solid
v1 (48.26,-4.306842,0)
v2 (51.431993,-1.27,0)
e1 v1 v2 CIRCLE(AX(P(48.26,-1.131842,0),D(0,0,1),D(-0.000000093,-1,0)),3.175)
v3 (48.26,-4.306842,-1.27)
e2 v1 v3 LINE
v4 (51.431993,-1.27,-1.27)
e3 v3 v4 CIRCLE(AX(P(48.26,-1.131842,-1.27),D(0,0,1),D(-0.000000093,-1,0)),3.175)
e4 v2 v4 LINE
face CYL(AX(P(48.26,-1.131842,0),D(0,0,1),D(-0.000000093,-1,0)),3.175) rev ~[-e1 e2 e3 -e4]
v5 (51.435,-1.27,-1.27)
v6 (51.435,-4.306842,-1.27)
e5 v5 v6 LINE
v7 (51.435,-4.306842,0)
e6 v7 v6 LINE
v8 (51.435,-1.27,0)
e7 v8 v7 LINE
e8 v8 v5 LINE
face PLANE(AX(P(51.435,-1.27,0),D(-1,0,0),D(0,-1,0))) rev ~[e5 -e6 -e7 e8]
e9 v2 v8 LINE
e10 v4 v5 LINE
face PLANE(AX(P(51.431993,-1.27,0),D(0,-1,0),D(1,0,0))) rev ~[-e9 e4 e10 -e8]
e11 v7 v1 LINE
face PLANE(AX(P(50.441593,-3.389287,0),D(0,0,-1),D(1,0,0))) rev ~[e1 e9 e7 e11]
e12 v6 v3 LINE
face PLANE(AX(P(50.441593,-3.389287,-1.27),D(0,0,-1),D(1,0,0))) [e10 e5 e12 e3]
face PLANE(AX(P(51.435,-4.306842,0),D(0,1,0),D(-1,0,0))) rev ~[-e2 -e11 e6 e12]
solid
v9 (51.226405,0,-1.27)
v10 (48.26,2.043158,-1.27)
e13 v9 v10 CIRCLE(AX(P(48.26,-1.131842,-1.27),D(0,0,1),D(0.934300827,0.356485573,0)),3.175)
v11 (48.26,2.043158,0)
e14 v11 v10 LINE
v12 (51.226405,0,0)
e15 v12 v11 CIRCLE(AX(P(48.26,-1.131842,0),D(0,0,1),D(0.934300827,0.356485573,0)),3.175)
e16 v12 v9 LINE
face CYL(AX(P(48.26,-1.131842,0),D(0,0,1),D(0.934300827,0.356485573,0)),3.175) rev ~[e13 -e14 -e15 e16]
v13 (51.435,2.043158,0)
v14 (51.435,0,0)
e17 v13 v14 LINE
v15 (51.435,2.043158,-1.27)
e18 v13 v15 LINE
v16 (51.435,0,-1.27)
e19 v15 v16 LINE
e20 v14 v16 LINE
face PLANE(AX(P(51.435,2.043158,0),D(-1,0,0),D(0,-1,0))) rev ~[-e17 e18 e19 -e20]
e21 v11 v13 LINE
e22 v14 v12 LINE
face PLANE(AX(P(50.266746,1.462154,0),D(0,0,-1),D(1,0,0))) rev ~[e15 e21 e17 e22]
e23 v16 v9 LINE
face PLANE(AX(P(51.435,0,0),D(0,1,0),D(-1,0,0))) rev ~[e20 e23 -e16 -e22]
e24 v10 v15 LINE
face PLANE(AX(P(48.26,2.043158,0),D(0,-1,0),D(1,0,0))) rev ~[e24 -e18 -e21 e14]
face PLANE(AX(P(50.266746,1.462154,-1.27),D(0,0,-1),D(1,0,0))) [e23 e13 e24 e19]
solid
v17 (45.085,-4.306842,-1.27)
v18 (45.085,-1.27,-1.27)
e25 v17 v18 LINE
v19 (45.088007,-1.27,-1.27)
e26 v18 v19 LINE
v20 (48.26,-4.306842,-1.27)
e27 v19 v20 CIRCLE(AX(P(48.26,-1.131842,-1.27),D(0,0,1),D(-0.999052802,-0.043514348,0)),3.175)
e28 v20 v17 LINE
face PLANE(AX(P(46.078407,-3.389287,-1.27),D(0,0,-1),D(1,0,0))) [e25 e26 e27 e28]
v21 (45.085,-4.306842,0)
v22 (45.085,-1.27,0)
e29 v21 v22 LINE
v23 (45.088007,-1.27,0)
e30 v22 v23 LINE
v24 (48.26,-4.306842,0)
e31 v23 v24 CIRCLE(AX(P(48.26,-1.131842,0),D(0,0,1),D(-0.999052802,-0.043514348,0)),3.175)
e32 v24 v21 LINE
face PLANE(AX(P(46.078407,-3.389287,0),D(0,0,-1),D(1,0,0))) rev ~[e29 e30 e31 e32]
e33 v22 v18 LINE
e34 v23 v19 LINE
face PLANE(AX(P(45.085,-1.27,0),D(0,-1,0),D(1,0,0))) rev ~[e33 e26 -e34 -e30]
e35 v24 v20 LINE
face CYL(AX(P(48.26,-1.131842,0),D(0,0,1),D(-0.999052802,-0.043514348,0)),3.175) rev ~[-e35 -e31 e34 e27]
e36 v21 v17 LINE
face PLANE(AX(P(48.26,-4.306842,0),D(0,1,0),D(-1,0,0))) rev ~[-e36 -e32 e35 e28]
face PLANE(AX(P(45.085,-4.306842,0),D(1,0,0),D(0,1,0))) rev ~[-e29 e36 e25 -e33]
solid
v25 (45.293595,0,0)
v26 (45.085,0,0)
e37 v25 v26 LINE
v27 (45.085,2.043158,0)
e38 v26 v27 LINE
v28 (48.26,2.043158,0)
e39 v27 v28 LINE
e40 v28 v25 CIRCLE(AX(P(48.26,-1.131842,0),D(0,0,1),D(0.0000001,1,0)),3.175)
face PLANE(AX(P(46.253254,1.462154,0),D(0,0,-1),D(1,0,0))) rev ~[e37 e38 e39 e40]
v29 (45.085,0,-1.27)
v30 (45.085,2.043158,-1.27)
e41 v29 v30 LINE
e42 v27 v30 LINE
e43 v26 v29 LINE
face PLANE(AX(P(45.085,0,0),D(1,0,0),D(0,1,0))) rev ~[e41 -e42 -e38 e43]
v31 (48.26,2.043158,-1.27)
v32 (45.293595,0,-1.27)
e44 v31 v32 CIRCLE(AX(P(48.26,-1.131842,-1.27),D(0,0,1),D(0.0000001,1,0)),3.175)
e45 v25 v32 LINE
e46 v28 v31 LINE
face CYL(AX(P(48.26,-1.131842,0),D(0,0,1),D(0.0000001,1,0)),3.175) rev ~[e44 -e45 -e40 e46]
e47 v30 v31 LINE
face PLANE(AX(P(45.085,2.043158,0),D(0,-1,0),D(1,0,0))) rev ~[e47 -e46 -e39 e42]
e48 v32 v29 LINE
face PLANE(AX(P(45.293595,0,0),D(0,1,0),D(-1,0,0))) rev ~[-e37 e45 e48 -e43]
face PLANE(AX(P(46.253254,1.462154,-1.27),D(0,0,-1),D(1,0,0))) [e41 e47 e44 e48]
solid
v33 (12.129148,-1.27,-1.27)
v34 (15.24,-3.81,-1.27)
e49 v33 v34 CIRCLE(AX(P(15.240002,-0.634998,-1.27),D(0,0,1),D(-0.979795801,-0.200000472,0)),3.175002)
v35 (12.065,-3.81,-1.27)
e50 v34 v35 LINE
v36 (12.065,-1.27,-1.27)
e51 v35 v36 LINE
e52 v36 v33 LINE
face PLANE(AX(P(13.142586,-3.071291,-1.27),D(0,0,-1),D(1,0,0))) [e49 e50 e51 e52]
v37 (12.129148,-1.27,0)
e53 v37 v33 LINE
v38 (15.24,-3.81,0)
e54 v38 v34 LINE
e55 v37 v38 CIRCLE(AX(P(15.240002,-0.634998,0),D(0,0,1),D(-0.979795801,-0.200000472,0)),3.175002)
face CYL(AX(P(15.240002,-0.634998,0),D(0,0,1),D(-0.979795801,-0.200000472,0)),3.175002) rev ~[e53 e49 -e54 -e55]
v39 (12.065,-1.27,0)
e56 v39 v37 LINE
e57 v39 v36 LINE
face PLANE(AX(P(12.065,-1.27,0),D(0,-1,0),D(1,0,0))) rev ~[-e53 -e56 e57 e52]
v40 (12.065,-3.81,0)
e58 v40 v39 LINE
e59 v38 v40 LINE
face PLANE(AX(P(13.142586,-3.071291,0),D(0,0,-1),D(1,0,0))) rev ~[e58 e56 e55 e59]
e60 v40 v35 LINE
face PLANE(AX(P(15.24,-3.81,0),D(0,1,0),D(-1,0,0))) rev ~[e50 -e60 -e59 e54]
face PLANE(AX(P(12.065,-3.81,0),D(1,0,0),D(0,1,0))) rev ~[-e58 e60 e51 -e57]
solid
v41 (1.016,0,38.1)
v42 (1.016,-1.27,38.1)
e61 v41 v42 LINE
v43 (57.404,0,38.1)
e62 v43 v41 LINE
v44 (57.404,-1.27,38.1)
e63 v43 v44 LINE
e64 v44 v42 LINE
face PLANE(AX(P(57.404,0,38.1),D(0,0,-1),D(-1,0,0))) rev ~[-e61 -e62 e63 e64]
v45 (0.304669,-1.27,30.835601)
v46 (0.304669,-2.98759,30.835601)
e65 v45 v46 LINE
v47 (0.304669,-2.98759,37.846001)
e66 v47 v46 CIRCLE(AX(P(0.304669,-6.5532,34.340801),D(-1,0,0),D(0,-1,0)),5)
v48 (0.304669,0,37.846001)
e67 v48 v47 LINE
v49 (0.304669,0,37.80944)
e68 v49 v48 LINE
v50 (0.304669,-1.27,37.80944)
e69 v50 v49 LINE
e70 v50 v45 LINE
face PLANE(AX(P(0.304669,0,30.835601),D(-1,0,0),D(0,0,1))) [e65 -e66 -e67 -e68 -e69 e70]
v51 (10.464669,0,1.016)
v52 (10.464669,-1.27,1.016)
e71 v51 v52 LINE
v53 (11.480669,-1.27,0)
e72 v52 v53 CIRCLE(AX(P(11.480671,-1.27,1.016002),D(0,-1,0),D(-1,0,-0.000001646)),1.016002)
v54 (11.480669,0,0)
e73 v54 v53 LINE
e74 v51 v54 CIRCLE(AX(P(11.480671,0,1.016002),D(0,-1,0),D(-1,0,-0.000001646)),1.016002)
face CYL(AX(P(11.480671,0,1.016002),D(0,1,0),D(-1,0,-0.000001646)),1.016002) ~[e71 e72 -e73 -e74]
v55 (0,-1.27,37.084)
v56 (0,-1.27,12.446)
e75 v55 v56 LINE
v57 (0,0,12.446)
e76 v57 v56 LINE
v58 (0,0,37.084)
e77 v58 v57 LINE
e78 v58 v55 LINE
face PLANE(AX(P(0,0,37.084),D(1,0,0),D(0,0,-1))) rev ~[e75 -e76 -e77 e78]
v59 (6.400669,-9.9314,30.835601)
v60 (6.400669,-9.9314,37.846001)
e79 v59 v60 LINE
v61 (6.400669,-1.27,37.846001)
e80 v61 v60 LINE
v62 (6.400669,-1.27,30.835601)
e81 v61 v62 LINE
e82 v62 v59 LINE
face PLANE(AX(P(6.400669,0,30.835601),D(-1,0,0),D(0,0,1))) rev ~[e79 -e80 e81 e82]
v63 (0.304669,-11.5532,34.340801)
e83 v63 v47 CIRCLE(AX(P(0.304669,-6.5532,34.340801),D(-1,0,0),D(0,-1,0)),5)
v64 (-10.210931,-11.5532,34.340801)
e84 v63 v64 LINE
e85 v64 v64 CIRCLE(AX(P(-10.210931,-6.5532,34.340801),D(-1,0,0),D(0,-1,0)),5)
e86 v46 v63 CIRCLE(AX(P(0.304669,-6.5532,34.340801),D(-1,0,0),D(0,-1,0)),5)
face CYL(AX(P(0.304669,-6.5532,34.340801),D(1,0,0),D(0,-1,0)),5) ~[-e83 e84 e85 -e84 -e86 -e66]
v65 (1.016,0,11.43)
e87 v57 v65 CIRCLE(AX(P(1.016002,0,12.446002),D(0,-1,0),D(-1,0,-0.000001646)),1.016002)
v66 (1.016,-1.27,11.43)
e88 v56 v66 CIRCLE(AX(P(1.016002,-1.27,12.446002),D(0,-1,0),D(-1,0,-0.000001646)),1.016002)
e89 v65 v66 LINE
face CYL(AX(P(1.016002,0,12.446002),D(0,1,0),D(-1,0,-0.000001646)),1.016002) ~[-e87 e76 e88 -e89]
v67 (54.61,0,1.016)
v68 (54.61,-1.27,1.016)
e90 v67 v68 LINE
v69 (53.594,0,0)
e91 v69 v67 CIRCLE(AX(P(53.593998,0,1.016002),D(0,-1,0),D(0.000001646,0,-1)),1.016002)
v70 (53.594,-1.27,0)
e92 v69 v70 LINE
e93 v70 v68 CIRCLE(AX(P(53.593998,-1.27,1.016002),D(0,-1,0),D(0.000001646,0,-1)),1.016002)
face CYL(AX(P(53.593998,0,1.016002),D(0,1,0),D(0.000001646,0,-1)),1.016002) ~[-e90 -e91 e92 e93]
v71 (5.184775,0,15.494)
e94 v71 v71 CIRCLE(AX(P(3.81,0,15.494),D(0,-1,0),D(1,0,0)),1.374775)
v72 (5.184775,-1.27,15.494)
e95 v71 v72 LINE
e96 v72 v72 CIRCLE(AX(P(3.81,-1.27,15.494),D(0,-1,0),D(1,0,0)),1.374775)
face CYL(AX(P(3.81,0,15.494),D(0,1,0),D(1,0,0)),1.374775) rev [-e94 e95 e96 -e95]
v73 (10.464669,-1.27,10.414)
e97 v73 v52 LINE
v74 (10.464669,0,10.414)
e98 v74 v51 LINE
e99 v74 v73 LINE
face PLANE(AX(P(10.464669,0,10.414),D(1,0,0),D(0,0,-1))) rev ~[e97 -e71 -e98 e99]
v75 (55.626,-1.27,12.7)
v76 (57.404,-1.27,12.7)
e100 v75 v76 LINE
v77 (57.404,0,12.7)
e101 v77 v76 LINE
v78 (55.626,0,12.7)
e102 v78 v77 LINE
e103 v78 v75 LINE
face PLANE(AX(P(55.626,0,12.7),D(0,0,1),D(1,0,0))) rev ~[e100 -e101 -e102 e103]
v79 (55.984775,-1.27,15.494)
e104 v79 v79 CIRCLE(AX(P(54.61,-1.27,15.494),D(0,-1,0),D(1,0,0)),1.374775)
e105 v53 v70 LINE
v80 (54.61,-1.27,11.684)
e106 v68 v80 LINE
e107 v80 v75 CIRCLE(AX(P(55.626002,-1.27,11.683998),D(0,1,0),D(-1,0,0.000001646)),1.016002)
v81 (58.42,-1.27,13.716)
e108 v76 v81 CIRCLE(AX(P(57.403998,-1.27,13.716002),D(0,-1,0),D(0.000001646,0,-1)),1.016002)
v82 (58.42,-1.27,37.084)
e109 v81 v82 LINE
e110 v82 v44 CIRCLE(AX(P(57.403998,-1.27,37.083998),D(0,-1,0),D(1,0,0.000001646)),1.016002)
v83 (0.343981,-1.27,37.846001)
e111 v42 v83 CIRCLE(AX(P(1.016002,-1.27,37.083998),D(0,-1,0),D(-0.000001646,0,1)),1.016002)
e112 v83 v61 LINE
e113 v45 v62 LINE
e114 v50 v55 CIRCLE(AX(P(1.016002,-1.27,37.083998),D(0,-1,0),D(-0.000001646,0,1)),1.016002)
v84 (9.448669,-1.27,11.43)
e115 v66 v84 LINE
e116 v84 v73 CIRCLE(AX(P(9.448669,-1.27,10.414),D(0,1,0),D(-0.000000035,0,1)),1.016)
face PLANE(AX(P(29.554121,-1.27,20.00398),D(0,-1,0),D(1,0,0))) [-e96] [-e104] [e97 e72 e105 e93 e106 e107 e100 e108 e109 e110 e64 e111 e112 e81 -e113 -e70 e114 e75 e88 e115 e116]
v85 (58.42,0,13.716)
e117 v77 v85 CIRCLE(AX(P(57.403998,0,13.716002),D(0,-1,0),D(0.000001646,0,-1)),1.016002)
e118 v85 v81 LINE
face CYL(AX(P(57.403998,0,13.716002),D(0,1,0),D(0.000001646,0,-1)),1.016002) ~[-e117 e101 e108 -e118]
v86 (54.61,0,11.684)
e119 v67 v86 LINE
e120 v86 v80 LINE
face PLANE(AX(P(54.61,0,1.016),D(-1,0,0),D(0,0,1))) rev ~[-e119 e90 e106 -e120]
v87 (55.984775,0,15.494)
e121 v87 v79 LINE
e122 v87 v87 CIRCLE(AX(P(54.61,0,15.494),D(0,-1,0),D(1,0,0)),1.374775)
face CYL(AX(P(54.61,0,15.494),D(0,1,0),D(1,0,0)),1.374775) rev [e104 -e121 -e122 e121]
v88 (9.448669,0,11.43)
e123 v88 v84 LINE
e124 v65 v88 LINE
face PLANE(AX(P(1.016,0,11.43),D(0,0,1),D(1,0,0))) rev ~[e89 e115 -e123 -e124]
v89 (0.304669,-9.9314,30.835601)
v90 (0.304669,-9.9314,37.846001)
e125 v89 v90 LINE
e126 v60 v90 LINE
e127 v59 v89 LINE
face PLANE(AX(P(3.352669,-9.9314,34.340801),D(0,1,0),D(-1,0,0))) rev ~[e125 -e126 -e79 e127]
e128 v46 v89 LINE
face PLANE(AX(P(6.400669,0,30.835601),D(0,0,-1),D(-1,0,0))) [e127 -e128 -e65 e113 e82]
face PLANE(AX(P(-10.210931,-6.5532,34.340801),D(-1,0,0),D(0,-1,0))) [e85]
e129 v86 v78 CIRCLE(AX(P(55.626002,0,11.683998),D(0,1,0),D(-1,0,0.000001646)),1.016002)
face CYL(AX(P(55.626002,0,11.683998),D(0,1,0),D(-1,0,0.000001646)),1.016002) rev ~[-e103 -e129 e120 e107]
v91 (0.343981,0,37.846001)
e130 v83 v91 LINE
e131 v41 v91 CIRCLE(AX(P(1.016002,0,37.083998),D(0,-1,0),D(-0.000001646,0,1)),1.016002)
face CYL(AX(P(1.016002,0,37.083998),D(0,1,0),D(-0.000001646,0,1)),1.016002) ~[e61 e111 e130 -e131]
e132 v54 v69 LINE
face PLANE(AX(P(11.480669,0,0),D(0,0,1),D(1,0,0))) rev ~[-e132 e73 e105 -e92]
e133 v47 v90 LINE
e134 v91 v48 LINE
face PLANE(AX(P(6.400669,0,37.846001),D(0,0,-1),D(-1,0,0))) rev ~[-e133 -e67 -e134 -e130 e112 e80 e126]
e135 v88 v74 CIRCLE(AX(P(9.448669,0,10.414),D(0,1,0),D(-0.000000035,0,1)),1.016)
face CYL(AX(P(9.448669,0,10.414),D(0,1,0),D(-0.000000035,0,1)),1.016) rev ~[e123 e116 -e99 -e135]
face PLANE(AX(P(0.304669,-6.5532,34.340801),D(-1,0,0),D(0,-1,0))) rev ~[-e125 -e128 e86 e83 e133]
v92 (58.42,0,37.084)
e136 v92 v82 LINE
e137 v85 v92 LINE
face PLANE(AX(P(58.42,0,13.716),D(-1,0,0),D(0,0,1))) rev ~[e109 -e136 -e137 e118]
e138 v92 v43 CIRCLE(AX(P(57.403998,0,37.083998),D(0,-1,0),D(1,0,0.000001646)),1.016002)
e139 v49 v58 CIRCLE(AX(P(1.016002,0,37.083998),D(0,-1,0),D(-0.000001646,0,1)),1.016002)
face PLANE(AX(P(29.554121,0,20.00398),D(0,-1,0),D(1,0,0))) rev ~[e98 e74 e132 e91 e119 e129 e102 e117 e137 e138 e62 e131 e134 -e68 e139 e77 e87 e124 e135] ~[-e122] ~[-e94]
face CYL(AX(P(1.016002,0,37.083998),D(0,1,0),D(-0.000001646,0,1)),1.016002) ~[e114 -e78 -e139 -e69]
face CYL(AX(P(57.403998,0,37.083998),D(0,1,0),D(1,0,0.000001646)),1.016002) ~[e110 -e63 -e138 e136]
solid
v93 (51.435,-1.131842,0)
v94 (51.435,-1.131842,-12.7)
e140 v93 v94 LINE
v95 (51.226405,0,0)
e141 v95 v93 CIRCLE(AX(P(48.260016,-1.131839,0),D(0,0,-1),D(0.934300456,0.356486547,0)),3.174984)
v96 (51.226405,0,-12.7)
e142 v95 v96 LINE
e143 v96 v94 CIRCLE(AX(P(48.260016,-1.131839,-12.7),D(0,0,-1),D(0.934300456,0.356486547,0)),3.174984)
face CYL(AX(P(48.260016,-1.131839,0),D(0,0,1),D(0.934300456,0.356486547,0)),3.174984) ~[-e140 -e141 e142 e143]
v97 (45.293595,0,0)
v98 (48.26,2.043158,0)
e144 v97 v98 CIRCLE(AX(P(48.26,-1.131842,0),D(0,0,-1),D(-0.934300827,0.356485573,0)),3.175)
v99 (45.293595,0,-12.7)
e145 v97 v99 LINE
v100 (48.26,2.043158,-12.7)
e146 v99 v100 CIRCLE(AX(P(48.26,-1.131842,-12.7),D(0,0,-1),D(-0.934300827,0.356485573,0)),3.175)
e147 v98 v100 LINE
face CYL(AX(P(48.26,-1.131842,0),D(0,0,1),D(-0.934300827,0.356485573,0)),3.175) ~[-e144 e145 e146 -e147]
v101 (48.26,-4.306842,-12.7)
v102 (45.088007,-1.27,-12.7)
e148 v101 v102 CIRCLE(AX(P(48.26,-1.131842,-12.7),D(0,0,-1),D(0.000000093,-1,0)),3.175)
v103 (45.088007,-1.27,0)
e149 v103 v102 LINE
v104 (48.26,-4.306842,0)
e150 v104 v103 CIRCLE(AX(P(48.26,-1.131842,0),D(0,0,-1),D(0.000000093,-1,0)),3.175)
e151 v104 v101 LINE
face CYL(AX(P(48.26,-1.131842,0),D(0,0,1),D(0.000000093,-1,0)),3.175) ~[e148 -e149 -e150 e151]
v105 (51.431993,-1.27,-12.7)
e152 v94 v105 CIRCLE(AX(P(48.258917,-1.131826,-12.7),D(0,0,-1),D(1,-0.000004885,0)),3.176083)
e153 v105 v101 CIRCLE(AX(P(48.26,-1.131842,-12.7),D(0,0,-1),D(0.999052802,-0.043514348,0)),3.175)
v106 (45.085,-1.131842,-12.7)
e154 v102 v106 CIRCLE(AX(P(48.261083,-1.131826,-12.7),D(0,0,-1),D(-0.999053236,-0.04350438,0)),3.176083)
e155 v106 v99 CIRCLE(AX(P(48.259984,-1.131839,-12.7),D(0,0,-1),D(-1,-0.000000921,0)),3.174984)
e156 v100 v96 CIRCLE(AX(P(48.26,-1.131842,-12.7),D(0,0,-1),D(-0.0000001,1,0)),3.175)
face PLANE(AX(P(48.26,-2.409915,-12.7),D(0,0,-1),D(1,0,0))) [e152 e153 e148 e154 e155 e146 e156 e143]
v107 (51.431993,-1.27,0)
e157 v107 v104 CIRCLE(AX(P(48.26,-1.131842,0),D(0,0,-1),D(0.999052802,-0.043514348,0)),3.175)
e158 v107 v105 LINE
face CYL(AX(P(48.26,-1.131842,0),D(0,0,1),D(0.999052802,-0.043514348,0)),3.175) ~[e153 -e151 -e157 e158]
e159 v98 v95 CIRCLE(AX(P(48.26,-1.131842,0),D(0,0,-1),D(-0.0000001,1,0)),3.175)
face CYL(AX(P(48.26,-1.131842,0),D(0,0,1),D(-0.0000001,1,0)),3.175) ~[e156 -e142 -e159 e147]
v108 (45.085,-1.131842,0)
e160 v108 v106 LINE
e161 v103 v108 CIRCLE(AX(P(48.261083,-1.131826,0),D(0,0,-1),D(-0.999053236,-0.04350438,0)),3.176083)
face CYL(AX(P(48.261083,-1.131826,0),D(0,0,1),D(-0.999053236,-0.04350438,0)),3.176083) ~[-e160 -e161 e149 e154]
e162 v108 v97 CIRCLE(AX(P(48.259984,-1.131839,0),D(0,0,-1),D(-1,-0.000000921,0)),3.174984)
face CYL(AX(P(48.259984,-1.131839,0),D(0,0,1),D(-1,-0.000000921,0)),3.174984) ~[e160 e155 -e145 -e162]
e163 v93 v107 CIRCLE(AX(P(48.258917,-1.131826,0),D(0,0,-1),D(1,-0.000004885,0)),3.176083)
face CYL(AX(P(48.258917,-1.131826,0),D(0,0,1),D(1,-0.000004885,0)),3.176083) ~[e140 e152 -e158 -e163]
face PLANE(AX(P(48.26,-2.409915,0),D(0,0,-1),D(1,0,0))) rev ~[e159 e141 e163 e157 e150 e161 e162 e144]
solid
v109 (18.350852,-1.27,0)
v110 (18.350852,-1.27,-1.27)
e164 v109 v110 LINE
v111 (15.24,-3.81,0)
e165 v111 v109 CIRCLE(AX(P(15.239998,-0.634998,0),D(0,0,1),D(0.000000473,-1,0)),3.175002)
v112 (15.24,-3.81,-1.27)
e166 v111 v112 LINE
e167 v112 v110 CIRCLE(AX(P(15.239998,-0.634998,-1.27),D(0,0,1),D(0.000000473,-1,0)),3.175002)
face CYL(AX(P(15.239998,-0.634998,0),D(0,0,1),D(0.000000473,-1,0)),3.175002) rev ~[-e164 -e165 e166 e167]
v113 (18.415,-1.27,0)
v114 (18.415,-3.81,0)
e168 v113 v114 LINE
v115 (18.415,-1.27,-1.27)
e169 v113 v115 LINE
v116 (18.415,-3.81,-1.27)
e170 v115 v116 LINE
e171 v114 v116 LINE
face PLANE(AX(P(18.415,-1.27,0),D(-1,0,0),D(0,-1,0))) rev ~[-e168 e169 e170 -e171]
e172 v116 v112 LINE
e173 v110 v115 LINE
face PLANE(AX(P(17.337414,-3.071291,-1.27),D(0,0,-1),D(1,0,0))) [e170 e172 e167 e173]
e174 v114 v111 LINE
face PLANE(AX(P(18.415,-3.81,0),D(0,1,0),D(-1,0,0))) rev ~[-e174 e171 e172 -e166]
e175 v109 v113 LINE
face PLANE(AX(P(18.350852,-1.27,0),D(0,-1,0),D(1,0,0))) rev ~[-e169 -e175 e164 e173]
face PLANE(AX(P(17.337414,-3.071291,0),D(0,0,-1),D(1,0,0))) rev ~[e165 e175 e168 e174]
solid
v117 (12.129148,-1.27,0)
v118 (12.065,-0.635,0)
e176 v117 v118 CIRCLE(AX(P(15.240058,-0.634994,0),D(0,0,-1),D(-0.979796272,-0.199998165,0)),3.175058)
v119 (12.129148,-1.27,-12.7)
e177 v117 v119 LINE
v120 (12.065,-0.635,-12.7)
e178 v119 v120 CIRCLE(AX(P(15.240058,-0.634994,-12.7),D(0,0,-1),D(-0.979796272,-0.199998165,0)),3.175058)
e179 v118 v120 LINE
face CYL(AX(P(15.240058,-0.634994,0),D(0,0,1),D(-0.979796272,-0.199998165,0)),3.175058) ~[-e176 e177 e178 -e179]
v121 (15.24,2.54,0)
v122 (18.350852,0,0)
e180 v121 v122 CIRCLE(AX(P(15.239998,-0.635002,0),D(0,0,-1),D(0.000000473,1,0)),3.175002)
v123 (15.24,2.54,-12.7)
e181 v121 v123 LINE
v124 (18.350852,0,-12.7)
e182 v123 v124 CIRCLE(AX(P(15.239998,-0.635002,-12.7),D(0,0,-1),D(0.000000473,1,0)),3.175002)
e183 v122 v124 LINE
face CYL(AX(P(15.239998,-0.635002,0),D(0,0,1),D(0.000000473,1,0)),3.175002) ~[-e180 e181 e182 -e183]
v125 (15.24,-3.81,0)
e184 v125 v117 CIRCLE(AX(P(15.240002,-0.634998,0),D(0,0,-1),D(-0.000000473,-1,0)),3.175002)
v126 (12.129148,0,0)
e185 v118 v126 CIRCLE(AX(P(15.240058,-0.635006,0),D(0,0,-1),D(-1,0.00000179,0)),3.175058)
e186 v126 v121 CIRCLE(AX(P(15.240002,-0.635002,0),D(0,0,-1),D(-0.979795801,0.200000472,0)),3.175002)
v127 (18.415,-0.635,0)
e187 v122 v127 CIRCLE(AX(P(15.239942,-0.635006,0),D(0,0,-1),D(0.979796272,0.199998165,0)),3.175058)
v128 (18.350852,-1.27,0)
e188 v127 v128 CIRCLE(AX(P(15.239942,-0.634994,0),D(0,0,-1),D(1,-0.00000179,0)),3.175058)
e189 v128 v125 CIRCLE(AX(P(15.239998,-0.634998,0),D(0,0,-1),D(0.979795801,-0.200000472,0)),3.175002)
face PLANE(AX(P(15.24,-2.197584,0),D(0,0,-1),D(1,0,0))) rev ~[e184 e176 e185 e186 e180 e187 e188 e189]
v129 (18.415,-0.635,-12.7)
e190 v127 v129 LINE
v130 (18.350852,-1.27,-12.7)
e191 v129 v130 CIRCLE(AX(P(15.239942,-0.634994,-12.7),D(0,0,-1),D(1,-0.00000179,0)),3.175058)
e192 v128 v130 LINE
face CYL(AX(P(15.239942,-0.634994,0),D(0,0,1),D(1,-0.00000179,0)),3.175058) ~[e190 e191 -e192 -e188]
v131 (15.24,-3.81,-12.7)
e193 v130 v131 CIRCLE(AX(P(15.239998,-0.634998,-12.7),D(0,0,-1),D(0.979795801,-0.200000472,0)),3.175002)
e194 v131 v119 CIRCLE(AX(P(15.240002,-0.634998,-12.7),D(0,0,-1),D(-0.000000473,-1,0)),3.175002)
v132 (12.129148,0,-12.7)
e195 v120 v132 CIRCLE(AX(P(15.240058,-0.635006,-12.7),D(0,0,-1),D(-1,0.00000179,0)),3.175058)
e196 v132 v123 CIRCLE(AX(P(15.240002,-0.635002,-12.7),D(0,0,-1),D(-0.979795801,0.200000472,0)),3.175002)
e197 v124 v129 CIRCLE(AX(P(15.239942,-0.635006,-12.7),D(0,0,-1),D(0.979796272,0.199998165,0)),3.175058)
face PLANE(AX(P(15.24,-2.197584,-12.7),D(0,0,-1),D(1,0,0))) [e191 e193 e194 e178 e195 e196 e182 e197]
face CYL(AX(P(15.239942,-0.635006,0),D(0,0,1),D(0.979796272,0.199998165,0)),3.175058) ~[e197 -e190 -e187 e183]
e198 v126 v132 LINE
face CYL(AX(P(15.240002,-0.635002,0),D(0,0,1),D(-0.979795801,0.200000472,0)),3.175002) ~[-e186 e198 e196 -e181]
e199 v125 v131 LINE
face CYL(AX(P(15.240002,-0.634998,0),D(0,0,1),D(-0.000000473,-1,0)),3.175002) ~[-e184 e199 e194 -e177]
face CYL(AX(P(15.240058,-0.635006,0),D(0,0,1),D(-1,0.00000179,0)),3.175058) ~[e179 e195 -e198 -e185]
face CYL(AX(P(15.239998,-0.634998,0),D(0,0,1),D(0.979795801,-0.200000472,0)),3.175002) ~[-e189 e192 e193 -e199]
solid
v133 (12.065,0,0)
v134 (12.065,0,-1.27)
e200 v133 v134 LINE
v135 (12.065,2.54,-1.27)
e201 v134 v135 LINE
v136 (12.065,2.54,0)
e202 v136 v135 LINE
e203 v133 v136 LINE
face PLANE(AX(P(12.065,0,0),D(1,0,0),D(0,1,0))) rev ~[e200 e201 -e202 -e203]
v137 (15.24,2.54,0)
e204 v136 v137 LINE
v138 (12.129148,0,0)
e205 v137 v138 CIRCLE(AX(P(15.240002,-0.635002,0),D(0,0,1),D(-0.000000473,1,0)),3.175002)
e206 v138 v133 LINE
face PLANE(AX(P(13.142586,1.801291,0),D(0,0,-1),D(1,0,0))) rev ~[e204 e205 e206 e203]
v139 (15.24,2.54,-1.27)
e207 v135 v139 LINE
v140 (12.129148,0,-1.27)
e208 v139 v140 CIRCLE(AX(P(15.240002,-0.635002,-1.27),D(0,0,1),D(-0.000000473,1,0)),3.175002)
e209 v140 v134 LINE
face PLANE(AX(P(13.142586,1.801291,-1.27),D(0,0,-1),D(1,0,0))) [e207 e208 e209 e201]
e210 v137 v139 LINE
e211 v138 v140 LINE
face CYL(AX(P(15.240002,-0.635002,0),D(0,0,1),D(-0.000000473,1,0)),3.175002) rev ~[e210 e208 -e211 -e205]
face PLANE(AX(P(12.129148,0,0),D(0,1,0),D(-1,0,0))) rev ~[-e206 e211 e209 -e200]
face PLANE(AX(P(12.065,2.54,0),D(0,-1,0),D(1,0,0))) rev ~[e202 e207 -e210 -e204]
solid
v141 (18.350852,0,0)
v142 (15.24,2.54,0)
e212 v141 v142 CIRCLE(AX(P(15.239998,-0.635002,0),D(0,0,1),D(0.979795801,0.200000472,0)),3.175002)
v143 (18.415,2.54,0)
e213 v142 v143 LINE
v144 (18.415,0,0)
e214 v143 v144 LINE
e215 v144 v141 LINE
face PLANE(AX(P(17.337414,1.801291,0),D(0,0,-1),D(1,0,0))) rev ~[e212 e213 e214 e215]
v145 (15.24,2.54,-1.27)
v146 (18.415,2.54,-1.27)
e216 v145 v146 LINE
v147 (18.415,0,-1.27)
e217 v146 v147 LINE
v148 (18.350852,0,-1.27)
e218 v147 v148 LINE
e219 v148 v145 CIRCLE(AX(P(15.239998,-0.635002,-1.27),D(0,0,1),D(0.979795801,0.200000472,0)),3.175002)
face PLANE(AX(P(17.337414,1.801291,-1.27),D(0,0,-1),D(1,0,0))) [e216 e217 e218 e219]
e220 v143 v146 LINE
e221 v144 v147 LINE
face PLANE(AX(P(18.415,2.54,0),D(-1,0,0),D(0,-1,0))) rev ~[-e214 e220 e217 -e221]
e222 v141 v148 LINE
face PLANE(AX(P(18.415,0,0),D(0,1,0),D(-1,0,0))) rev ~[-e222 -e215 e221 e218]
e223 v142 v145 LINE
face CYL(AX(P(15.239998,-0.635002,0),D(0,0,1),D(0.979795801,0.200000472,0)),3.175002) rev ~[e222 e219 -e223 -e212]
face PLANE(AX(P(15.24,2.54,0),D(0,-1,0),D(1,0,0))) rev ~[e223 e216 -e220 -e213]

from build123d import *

# Parameters (mm, degrees)
F0_R     = 1.374775
F1_DEPTH = 1.27
F3_DEPTH = 1.27
F4_DEPTH = 12.7
F5_W     = 6.096
F5_H     = 7.0104
F6_DEPTH = 9.9314
F7_R     = 5
F8_DEPTH = 10.5156


with BuildPart() as f1:
    # F0 (on Front) → F1 (new body)
    with BuildSketch(Plane.XZ):
        with BuildLine():
            Line((10.464669, 10.414), (10.464669, 1.016))
            ThreePointArc((10.464669, 1.016), (10.762249, 0.29758), (11.480669, 0))
            Line((11.480669, 0), (53.594, 0))
            ThreePointArc((53.594, 0), (54.31242, 0.29758), (54.61, 1.016))
            Line((54.61, 1.016), (54.61, 11.684))
            ThreePointArc((54.61, 11.684), (54.90758, 12.40242), (55.626, 12.7))
            Line((55.626, 12.7), (57.404, 12.7))
            ThreePointArc((57.404, 12.7), (58.12242, 12.99758), (58.42, 13.716))
            Line((58.42, 13.716), (58.42, 37.084))
            ThreePointArc((58.42, 37.084), (58.12242, 37.80242), (57.404, 38.1))
            Line((57.404, 38.1), (1.016, 38.1))
            ThreePointArc((1.016, 38.1), (0.29758, 37.80242), (0, 37.084))
            Line((0, 37.084), (0, 12.446))
            ThreePointArc((0, 12.446), (0.29758, 11.72758), (1.016, 11.43))
            Line((1.016, 11.43), (9.448669, 11.43))
            ThreePointArc((9.448669, 11.43), (10.16709, 11.13242), (10.464669, 10.414))
        make_face()
        with Locations((3.81, 15.494)):
            Circle(F0_R, mode=Mode.SUBTRACT)
        with Locations((54.61, 15.494)):
            Circle(F0_R, mode=Mode.SUBTRACT)
    extrude(amount=F1_DEPTH)

    # F5 (on face) → F6 (join)
    with BuildSketch(Plane(origin=(0, 0, 0), x_dir=(-1, 0, 0), z_dir=(0, 1, 0))):
        with Locations((-3.352669, 34.340801)):
            Rectangle(F5_W, F5_H)
    extrude(amount=-F6_DEPTH)

    # F7 (on face) → F8 (join)
    with BuildSketch(Plane(origin=(0.304669, 0, 0), x_dir=(0, -1, 0), z_dir=(-1, 0, 0))):
        with Locations((6.5532, 34.340801)):
            Circle(F7_R)
    extrude(amount=F8_DEPTH)


with BuildPart() as f3:
    # F2 (on face) → F3 (new body)
    with BuildSketch(Plane(origin=(0, 0, 0), x_dir=(1, 0, 0), z_dir=(0, 0, -1))):
        with BuildLine():
            Line((18.350852, 1.27), (18.415, 1.27))
            Line((18.415, 1.27), (18.415, 3.81))
            Line((18.415, 3.81), (15.24, 3.81))
            ThreePointArc((15.24, 3.81), (17.248046, 3.094344), (18.350852, 1.27))
        make_face()
        with BuildLine():
            Line((12.065, 3.81), (12.065, 1.27))
            Line((12.065, 1.27), (12.129148, 1.27))
            ThreePointArc((12.129148, 1.27), (13.231954, 3.094344), (15.24, 3.81))
            Line((15.24, 3.81), (12.065, 3.81))
        make_face()
        with BuildLine():
            Line((12.065, -2.54), (15.24, -2.54))
            ThreePointArc((15.24, -2.54), (13.231954, -1.824344), (12.129148, 0))
            Line((12.129148, 0), (12.065, 0))
            Line((12.065, 0), (12.065, -2.54))
        make_face()
        with BuildLine():
            Line((15.24, -2.54), (18.415, -2.54))
            Line((18.415, -2.54), (18.415, 0))
            Line((18.415, 0), (18.350852, 0))
            ThreePointArc((18.350852, 0), (17.248046, -1.824344), (15.24, -2.54))
        make_face()
        with BuildLine():
            Line((51.435, 4.306842), (48.26, 4.306842))
            ThreePointArc((48.26, 4.306842), (50.455675, 3.425232), (51.431993, 1.27))
            Line((51.431993, 1.27), (51.435, 1.27))
            Line((51.435, 1.27), (51.435, 4.306842))
        make_face()
        with BuildLine():
            Line((45.085, 4.306842), (45.085, 1.27))
            Line((45.085, 1.27), (45.088007, 1.27))
            ThreePointArc((45.088007, 1.27), (46.064325, 3.425232), (48.26, 4.306842))
            Line((48.26, 4.306842), (45.085, 4.306842))
        make_face()
        with BuildLine():
            Line((45.293595, 0), (45.085, 0))
            Line((45.085, 0), (45.085, -2.043158))
            Line((45.085, -2.043158), (48.26, -2.043158))
            ThreePointArc((48.26, -2.043158), (46.459024, -1.482945), (45.293595, 0))
        make_face()
        with BuildLine():
            ThreePointArc((51.226405, 0), (50.060976, -1.482945), (48.26, -2.043158))
            Line((48.26, -2.043158), (51.435, -2.043158))
            Line((51.435, -2.043158), (51.435, 0))
            Line((51.435, 0), (51.226405, 0))
        make_face()
    extrude(amount=F3_DEPTH)


with BuildPart() as f4:
    # F2 (on face) → F4 (new body)
    with BuildSketch(Plane(origin=(0, 0, 0), x_dir=(1, 0, 0), z_dir=(0, 0, -1))):
        with BuildLine():
            Line((12.129148, 1.27), (18.350852, 1.27))
            ThreePointArc((18.350852, 1.27), (17.248046, 3.094344), (15.24, 3.81))
            ThreePointArc((15.24, 3.81), (13.231954, 3.094344), (12.129148, 1.27))
        make_face()
        with BuildLine():
            ThreePointArc((12.065, 0.635), (12.081078, 0.315884), (12.129148, 0))
            Line((12.129148, 0), (18.350852, 0))
            ThreePointArc((18.350852, 0), (18.398922, 0.315884), (18.415, 0.635))
            ThreePointArc((18.415, 0.635), (18.398922, 0.954116), (18.350852, 1.27))
            Line((18.350852, 1.27), (12.129148, 1.27))
            ThreePointArc((12.129148, 1.27), (12.081078, 0.954116), (12.065, 0.635))
        make_face()
        with BuildLine():
            ThreePointArc((12.129148, 0), (13.231954, -1.824344), (15.24, -2.54))
            ThreePointArc((15.24, -2.54), (17.248046, -1.824344), (18.350852, 0))
            Line((18.350852, 0), (12.129148, 0))
        make_face()
        with BuildLine():
            ThreePointArc((48.26, 4.306842), (46.064325, 3.425232), (45.088007, 1.27))
            Line((45.088007, 1.27), (51.431993, 1.27))
            ThreePointArc((51.431993, 1.27), (50.455675, 3.425232), (48.26, 4.306842))
        make_face()
        with BuildLine():
            ThreePointArc((45.088007, 1.27), (45.085752, 1.200937), (45.085, 1.131842))
            ThreePointArc((45.085, 1.131842), (45.137584, 0.55639), (45.293595, 0))
            Line((45.293595, 0), (51.226405, 0))
            ThreePointArc((51.226405, 0), (51.382416, 0.55639), (51.435, 1.131842))
            ThreePointArc((51.435, 1.131842), (51.434248, 1.200937), (51.431993, 1.27))
            Line((51.431993, 1.27), (45.088007, 1.27))
        make_face()
        with BuildLine():
            Line((51.226405, 0), (45.293595, 0))
            ThreePointArc((45.293595, 0), (46.459024, -1.482945), (48.26, -2.043158))
            ThreePointArc((48.26, -2.043158), (50.060976, -1.482945), (51.226405, 0))
        make_face()
    extrude(amount=F4_DEPTH)


solid = Compound([f1.part, f3.part, f4.part])
